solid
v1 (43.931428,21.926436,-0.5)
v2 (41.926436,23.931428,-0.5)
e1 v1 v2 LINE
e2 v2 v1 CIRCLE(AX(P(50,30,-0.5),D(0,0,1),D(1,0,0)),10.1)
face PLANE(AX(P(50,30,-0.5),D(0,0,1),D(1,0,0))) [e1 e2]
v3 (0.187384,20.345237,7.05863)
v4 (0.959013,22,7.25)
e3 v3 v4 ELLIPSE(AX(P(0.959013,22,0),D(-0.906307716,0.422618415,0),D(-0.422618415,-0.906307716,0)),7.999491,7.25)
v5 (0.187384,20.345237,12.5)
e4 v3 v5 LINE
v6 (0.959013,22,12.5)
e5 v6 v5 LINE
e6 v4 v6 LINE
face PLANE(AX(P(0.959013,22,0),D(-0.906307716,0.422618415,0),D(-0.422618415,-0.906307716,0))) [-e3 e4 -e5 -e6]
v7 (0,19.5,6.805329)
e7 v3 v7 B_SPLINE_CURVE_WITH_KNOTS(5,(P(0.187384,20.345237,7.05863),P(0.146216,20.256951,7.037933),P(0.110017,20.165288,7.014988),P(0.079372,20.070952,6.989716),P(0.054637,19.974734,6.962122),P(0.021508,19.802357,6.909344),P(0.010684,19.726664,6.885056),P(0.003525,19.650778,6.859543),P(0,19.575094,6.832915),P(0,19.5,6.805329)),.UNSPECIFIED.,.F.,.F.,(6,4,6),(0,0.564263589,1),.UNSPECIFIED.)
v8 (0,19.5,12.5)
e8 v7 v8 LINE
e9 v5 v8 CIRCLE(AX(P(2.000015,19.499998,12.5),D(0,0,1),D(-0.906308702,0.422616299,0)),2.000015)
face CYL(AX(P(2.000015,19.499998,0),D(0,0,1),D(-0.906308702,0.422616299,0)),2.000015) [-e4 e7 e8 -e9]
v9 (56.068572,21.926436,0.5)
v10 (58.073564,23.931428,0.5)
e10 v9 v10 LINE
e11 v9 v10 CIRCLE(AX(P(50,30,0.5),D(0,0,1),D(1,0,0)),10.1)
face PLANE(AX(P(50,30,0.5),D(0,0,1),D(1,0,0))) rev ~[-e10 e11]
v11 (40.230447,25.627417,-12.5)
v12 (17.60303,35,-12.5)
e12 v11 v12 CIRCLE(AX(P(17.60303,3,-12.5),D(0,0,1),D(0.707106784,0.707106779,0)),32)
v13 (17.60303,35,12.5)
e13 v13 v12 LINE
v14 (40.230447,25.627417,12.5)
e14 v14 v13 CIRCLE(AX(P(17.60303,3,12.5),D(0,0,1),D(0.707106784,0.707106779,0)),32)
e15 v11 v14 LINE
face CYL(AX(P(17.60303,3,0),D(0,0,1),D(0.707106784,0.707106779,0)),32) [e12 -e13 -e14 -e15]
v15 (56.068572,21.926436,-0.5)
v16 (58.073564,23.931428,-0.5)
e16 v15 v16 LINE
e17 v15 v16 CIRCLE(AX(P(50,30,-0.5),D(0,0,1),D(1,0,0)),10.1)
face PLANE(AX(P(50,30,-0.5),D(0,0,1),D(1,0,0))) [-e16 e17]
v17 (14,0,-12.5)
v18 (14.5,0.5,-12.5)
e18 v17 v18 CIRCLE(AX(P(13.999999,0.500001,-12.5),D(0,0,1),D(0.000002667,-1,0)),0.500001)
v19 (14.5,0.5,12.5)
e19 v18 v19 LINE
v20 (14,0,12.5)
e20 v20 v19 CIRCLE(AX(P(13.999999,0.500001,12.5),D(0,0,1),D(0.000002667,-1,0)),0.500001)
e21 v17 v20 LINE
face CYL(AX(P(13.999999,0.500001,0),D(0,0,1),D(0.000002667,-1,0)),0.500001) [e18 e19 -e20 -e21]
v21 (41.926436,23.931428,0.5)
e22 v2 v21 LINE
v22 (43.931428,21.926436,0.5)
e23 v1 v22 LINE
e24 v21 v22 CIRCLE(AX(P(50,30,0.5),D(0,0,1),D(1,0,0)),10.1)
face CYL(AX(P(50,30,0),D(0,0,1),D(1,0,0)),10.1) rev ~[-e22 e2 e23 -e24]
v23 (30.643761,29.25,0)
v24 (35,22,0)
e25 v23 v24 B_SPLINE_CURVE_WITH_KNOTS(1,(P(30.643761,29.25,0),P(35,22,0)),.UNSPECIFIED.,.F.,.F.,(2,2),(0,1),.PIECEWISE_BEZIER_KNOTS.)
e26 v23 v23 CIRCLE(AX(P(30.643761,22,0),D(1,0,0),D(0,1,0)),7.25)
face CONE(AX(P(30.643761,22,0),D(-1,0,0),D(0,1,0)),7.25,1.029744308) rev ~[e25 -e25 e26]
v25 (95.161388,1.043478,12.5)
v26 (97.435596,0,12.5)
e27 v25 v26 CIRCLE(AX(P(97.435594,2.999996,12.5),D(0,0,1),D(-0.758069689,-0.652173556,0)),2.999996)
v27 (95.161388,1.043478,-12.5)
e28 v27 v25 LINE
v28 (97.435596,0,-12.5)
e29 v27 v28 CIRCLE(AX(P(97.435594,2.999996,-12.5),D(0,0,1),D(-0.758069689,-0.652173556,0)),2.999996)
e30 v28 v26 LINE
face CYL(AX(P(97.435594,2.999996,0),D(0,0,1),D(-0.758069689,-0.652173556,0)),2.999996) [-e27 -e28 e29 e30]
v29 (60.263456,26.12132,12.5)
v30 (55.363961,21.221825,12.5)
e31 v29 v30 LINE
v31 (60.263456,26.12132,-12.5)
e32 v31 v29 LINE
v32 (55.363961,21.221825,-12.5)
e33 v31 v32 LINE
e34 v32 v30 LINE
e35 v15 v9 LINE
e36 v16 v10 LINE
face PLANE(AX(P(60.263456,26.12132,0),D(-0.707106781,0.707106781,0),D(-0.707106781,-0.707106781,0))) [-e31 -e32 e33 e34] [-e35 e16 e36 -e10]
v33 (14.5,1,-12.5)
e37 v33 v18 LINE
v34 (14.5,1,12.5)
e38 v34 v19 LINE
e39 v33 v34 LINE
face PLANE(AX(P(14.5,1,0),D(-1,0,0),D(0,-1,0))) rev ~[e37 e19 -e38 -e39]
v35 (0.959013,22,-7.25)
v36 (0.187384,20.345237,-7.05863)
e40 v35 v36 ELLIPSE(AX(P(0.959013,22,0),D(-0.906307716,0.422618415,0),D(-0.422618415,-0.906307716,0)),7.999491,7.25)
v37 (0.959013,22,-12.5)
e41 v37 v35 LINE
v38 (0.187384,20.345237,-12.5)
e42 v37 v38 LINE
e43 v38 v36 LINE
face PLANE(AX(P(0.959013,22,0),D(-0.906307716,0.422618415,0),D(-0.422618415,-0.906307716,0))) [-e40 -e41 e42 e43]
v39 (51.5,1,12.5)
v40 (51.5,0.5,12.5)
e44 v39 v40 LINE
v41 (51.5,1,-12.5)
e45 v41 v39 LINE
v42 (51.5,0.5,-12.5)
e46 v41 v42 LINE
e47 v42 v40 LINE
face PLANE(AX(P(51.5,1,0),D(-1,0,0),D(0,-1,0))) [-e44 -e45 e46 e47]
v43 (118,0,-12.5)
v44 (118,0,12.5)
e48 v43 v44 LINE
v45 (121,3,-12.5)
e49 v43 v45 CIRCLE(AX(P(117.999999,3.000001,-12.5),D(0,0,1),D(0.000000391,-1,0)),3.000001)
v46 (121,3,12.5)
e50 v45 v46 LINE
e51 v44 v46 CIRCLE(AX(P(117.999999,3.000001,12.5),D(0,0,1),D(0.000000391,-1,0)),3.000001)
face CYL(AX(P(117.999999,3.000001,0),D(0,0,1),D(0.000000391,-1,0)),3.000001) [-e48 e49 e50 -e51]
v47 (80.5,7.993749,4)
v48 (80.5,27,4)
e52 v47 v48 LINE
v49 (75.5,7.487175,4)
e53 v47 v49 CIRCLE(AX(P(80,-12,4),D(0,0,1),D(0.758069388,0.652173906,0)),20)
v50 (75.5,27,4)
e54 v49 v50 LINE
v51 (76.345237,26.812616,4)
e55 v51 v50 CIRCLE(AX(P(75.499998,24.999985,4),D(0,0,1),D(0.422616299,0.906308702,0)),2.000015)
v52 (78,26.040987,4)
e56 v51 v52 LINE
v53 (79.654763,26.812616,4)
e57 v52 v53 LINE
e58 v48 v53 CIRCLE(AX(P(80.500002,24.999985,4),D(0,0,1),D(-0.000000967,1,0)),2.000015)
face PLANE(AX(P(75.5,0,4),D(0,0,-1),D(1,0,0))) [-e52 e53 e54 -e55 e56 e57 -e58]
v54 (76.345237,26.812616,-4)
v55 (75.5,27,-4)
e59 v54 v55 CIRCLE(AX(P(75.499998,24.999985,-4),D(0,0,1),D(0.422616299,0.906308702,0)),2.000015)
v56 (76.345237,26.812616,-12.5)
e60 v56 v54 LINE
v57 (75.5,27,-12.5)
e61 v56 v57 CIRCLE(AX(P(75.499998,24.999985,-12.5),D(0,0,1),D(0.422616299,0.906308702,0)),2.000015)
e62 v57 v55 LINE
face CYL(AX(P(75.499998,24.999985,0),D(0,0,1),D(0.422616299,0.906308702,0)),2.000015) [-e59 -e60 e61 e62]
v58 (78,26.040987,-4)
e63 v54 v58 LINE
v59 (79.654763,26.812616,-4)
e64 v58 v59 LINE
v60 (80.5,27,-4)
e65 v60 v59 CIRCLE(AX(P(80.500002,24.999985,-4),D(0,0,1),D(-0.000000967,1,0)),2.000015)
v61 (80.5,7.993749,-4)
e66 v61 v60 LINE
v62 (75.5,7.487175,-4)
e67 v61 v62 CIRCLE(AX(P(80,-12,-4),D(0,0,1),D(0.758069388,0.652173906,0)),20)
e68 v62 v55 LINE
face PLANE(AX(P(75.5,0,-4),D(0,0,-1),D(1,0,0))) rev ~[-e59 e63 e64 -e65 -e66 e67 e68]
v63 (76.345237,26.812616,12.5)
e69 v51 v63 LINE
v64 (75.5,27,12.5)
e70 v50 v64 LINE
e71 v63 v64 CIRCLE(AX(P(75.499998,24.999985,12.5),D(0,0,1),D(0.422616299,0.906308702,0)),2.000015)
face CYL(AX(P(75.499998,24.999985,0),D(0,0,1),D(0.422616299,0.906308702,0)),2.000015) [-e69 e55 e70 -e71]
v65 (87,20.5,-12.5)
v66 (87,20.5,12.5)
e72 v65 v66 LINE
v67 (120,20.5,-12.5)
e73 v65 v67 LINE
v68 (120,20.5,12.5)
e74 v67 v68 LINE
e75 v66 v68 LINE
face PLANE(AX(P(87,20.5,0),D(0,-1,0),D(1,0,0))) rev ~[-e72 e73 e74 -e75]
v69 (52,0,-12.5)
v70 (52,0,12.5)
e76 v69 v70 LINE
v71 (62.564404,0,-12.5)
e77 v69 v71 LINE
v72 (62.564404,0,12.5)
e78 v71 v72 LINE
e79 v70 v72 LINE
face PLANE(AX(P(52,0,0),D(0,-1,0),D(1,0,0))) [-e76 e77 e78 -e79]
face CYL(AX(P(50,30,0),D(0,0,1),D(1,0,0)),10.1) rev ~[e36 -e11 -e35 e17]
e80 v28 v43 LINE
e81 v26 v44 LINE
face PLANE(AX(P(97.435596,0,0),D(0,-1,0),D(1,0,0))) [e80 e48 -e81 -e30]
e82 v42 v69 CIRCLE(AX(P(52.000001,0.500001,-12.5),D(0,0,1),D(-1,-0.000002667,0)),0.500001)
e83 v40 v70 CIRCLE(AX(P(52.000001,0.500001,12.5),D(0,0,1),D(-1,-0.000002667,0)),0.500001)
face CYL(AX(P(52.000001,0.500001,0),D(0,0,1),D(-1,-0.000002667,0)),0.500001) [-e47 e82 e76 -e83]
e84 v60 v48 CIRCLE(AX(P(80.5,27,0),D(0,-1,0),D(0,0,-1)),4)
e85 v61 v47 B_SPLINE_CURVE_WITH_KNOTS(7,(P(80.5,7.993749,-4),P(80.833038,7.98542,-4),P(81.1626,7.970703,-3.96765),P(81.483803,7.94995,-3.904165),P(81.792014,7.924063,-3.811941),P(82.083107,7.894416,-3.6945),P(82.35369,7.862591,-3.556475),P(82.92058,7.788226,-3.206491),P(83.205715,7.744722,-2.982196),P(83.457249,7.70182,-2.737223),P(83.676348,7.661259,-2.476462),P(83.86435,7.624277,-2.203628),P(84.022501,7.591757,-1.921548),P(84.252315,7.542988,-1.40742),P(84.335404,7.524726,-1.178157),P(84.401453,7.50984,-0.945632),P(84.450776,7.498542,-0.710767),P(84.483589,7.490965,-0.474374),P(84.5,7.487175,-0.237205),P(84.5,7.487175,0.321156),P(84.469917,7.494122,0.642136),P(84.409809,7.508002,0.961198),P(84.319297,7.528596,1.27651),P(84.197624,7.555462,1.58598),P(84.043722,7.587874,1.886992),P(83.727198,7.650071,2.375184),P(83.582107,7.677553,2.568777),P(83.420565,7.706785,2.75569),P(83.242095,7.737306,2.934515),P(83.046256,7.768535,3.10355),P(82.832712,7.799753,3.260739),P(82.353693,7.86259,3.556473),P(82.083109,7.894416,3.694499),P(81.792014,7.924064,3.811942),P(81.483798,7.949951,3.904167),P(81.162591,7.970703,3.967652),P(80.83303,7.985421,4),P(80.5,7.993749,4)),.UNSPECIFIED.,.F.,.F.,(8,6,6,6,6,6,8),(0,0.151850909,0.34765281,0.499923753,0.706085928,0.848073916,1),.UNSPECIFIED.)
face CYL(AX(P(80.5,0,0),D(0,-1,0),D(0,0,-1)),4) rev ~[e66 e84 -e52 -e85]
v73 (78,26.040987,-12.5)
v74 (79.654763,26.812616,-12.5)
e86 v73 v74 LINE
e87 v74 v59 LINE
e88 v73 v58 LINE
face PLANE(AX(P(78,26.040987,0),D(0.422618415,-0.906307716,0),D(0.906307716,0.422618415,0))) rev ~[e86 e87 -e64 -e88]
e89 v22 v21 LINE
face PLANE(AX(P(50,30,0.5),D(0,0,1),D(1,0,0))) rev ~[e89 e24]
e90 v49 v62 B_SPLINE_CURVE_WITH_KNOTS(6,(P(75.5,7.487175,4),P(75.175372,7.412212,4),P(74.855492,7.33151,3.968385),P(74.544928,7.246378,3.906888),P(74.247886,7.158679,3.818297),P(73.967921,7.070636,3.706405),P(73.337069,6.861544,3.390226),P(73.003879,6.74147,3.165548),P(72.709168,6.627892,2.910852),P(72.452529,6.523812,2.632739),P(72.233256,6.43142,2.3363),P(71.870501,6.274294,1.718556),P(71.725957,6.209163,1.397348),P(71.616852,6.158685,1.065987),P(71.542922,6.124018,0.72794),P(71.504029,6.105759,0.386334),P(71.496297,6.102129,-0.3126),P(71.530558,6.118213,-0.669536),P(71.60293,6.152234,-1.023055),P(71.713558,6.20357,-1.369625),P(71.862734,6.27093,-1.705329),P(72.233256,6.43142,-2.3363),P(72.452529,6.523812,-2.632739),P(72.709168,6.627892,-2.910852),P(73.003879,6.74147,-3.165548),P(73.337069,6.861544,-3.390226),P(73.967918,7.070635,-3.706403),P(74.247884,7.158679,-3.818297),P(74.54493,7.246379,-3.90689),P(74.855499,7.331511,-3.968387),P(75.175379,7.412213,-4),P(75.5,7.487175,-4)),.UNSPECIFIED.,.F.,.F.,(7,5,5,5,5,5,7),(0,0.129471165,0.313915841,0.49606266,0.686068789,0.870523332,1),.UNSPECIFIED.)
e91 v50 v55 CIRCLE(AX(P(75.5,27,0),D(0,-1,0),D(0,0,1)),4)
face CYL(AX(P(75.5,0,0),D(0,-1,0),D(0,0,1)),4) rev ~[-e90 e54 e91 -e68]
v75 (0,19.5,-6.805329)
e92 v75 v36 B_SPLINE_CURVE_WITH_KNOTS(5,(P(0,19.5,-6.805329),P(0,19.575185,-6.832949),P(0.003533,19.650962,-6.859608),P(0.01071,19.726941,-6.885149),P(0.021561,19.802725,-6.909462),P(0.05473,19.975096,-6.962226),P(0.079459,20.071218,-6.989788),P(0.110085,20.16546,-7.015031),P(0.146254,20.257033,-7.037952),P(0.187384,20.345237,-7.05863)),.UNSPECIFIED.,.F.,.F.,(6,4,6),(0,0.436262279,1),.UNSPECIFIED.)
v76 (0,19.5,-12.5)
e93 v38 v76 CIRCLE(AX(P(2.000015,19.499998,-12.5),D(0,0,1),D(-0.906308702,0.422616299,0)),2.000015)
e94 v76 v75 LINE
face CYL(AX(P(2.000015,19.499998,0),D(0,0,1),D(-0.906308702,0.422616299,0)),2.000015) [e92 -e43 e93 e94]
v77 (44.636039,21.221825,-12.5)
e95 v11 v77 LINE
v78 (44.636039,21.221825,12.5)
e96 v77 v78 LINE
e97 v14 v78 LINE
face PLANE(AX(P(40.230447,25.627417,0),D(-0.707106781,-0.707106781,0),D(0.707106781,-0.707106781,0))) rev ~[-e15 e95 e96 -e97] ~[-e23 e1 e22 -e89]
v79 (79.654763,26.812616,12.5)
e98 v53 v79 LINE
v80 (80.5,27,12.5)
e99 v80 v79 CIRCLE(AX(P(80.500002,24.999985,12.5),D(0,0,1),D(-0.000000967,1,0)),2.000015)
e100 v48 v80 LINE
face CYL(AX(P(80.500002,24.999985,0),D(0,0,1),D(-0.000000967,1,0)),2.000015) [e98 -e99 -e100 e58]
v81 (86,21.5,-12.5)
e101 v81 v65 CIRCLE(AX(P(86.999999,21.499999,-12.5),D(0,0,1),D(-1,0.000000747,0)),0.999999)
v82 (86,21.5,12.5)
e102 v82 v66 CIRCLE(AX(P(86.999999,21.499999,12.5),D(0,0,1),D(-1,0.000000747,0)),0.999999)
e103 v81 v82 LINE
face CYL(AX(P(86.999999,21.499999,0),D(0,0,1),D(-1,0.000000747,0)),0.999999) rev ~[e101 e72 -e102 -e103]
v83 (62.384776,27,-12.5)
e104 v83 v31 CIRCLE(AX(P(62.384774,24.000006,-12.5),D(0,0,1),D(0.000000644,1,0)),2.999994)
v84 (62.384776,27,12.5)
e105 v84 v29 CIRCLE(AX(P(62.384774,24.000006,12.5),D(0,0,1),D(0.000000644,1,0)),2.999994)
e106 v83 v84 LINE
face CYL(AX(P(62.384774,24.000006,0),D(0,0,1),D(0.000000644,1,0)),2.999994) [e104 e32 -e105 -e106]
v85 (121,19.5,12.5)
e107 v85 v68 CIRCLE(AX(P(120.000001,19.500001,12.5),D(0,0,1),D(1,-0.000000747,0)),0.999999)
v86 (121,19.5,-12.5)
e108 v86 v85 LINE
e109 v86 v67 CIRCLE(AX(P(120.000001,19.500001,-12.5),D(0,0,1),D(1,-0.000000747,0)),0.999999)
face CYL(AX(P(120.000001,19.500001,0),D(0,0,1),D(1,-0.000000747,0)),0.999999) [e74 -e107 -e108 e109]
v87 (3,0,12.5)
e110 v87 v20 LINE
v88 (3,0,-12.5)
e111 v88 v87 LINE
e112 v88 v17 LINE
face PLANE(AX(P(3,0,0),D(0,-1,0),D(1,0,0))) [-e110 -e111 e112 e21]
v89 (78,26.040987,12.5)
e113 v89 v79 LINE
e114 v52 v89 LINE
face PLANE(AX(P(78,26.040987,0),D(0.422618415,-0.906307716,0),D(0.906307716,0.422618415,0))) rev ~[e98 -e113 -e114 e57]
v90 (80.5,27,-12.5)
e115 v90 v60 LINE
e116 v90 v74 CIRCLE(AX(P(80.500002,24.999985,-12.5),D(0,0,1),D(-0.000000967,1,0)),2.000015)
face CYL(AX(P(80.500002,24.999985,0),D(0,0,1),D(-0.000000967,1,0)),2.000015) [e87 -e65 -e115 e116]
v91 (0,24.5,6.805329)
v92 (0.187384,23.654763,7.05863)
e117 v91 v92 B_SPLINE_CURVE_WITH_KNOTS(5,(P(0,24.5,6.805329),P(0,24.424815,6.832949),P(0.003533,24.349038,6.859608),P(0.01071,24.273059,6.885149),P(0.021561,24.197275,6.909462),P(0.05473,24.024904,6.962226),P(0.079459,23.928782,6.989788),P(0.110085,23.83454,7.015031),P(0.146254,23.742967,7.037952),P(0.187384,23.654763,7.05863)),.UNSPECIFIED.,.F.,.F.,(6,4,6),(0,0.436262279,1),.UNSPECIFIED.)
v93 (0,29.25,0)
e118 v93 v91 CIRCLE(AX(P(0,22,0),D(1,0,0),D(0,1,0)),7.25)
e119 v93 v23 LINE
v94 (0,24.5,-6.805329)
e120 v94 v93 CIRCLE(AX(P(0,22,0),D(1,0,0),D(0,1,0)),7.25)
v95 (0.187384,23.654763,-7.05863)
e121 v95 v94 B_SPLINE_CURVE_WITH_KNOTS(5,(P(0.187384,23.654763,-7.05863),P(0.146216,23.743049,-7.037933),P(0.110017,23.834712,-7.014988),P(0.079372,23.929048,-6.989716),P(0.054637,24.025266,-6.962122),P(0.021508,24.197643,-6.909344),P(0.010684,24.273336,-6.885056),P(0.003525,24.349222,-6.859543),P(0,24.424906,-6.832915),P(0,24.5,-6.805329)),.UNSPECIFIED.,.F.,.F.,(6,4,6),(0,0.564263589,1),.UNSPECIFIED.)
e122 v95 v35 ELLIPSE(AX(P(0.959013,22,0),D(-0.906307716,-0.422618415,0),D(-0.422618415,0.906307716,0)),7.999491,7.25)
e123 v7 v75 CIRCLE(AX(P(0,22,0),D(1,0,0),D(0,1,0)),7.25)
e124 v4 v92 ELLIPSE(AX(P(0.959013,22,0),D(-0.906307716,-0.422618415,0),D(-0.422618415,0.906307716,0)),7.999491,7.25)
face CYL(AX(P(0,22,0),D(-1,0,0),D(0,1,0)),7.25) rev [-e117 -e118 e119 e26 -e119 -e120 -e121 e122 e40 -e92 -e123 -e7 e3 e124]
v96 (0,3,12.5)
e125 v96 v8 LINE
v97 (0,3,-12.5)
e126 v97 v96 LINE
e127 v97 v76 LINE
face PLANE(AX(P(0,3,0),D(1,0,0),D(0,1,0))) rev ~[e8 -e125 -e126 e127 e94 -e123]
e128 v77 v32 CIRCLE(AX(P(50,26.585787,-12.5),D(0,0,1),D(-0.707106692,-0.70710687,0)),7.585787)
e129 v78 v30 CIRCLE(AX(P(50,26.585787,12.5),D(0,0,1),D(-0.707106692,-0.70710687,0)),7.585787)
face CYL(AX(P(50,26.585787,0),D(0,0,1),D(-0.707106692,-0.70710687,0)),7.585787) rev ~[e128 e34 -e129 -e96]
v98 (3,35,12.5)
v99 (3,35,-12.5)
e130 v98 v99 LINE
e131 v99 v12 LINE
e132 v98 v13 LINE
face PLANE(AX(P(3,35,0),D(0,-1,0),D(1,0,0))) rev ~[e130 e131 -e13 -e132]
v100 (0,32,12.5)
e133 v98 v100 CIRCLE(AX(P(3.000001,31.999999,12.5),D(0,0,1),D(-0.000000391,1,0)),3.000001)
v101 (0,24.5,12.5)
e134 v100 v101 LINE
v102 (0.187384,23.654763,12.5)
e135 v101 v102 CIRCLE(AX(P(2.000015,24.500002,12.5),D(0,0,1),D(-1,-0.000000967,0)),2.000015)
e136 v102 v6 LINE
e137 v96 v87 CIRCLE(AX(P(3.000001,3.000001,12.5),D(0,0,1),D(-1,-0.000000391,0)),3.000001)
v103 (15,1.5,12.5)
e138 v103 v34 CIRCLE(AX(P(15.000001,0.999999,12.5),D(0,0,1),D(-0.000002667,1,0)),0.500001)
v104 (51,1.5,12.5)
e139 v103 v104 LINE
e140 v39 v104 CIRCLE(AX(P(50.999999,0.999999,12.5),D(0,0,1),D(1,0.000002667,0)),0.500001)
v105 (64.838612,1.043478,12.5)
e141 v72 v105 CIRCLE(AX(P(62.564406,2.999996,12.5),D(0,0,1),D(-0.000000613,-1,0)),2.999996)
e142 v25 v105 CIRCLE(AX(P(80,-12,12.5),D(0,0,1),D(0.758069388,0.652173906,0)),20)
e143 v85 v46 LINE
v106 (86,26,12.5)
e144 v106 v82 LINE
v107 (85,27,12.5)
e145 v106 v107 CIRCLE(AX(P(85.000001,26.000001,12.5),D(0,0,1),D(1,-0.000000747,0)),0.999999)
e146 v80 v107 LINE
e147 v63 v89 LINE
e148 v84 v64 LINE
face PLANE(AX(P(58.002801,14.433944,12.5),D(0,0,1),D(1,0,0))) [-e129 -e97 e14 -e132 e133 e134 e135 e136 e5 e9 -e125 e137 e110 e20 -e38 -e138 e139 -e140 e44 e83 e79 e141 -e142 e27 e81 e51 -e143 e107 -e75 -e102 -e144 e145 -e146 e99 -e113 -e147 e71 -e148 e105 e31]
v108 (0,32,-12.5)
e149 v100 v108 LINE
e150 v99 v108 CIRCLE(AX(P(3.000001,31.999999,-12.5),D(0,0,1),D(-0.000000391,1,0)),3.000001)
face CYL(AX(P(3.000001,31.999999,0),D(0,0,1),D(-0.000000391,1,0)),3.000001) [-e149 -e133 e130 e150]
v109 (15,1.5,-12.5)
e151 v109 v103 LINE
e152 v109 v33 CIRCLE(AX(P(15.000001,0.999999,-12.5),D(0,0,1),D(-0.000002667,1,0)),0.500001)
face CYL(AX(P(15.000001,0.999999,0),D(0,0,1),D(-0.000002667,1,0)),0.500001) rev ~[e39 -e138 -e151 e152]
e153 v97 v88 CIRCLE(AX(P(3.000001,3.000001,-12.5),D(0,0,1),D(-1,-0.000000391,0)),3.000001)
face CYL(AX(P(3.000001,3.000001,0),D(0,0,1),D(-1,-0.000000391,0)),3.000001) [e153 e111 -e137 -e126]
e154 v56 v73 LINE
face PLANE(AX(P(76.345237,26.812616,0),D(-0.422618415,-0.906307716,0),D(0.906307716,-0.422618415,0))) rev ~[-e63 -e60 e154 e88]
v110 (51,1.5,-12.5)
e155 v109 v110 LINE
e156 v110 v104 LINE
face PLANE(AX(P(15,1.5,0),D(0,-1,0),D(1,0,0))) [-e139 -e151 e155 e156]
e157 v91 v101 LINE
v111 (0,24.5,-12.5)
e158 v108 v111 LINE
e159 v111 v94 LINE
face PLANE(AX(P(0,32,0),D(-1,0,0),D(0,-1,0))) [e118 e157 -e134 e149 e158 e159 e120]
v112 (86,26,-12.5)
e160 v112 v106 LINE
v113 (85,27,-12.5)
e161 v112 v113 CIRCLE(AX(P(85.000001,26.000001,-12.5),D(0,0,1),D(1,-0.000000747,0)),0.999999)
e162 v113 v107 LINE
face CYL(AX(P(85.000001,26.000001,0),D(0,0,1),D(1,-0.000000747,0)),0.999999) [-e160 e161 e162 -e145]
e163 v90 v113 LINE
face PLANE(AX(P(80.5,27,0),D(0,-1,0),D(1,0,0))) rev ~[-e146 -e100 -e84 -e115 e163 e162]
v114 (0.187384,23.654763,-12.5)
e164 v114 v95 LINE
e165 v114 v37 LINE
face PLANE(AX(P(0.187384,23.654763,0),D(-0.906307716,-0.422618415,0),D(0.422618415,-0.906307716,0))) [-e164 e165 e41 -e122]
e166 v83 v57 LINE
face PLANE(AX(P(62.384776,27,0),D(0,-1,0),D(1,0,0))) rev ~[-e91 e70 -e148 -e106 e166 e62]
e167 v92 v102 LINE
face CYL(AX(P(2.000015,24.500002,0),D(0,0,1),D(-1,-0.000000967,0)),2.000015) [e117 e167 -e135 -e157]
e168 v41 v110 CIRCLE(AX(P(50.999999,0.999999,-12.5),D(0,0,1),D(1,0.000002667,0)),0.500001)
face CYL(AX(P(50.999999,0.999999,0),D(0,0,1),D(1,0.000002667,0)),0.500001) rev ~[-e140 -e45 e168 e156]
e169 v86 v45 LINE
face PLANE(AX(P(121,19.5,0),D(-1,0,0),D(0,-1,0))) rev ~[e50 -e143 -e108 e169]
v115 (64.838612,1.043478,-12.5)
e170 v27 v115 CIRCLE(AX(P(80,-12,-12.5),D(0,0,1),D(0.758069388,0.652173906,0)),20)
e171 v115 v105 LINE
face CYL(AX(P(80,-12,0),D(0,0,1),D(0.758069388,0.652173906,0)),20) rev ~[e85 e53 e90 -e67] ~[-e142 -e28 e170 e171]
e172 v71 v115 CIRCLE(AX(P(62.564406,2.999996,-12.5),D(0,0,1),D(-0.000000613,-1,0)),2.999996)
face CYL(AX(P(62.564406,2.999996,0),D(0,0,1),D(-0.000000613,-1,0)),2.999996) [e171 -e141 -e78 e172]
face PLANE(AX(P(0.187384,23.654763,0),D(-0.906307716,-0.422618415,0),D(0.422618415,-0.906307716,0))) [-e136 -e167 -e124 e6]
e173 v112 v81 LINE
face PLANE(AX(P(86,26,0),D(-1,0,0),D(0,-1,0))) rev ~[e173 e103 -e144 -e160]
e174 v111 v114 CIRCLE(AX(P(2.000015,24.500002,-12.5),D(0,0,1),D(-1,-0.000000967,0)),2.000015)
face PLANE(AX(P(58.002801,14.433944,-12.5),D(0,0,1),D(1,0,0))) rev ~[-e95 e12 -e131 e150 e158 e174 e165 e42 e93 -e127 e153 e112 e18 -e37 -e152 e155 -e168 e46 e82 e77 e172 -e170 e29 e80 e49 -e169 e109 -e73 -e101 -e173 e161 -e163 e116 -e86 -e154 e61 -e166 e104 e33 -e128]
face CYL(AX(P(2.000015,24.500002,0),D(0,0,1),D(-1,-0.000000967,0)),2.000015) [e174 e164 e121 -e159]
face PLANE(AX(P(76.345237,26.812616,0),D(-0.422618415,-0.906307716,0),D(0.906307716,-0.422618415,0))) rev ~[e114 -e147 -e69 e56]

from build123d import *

# Parameters (mm, degrees)
PAD_DEPTH            = 12.5
SKETCH001_R          = 10.1
POCKET_DEPTH         = 0.5
SKETCH002_R          = 7.25
HOLE_DEPTH           = 30.643761
HOLE_TIPS_R          = 7.25
POCKET001_DEPTH      = 35.001
POCKET001_DEPTH_BACK = 0.001


with BuildPart() as part:
    # Sketch → Pad (new body, symmetric)
    with BuildSketch(Plane.XY):
        with BuildLine():
            Line((0, 32), (0, 24.5))
            ThreePointArc((0, 24.5), (0.047408, 24.067121), (0.187384, 23.654763))
            Line((0.187384, 23.654763), (0.959013, 22))
            Line((0.959013, 22), (0.187384, 20.345237))
            ThreePointArc((0.187384, 20.345237), (0.047408, 19.932879), (0, 19.5))
            Line((0, 3), (0, 19.5))
            ThreePointArc((0, 3), (0.87868, 0.87868), (3, 0))
            Line((3, 0), (14, 0))
            ThreePointArc((14, 0), (14.353553, 0.146447), (14.5, 0.5))
            Line((14.5, 1), (14.5, 0.5))
            ThreePointArc((15, 1.5), (14.646447, 1.353553), (14.5, 1))
            Line((15, 1.5), (51, 1.5))
            ThreePointArc((51.5, 1), (51.353553, 1.353553), (51, 1.5))
            Line((51.5, 1), (51.5, 0.5))
            ThreePointArc((51.5, 0.5), (51.646447, 0.146447), (52, 0))
            Line((52, 0), (62.564404, 0))
            ThreePointArc((62.564404, 0), (63.815491, 0.27332), (64.838612, 1.043478))
            ThreePointArc((95.161388, 1.043478), (80, 8), (64.838612, 1.043478))
            ThreePointArc((95.161388, 1.043478), (96.184509, 0.27332), (97.435596, 0))
            Line((97.435596, 0), (118, 0))
            ThreePointArc((118, 0), (120.12132, 0.87868), (121, 3))
            Line((121, 19.5), (121, 3))
            ThreePointArc((121, 19.5), (120.707107, 20.207107), (120, 20.5))
            Line((87, 20.5), (120, 20.5))
            ThreePointArc((86, 21.5), (86.292893, 20.792893), (87, 20.5))
            Line((86, 26), (86, 21.5))
            ThreePointArc((86, 26), (85.707107, 26.707107), (85, 27))
            Line((80.5, 27), (85, 27))
            ThreePointArc((80.5, 27), (80.067121, 26.952592), (79.654763, 26.812616))
            Line((78, 26.040987), (79.654763, 26.812616))
            Line((76.345237, 26.812616), (78, 26.040987))
            ThreePointArc((76.345237, 26.812616), (75.932879, 26.952592), (75.5, 27))
            Line((62.384776, 27), (75.5, 27))
            ThreePointArc((62.384776, 27), (61.236726, 26.771639), (60.263456, 26.12132))
            Line((60.263456, 26.12132), (55.363961, 21.221825))
            ThreePointArc((44.636039, 21.221825), (50, 19), (55.363961, 21.221825))
            Line((40.230447, 25.627417), (44.636039, 21.221825))
            ThreePointArc((40.230447, 25.627417), (29.8489, 32.564145), (17.60303, 35))
            Line((3, 35), (17.60303, 35))
            ThreePointArc((3, 35), (0.87868, 34.12132), (0, 32))
        make_face()
    extrude(amount=PAD_DEPTH, both=True)

    # Sketch001 → Pocket (cut, symmetric)
    with BuildSketch(Plane.XY):
        with Locations((50, 30)):
            Circle(SKETCH001_R)
    extrude(amount=POCKET_DEPTH, both=True, mode=Mode.SUBTRACT)

    # Sketch002 → Hole (cut)
    with BuildSketch(Plane.YZ):
        with Locations((22, 0)):
            Circle(SKETCH002_R)
    extrude(amount=HOLE_DEPTH, mode=Mode.SUBTRACT)

    # Hole tips → Hole tip 1 section 0
    with BuildSketch(Plane.YZ.offset(30.643761), mode=Mode.PRIVATE) as hole_tip_1_s0:
        with Locations((22, 0)):
            Circle(HOLE_TIPS_R)
    loft([hole_tip_1_s0.sketch, Vertex(35, 22, 0)], mode=Mode.SUBTRACT)

    # Sketch003 → Pocket001 (cut, two sides)
    with BuildSketch(Plane.XZ) as pocket001_sk:
        with BuildLine():
            ThreePointArc((75.5, 4), (71.5, 0), (75.5, -4))
            Line((75.5, -4), (80.5, -4))
            ThreePointArc((80.5, -4), (84.5, 0), (80.5, 4))
            Line((75.5, 4), (80.5, 4))
        make_face()
    extrude(amount=-POCKET001_DEPTH, mode=Mode.SUBTRACT)
    extrude(pocket001_sk.sketch, amount=POCKET001_DEPTH_BACK, mode=Mode.SUBTRACT)


solid = part.part
